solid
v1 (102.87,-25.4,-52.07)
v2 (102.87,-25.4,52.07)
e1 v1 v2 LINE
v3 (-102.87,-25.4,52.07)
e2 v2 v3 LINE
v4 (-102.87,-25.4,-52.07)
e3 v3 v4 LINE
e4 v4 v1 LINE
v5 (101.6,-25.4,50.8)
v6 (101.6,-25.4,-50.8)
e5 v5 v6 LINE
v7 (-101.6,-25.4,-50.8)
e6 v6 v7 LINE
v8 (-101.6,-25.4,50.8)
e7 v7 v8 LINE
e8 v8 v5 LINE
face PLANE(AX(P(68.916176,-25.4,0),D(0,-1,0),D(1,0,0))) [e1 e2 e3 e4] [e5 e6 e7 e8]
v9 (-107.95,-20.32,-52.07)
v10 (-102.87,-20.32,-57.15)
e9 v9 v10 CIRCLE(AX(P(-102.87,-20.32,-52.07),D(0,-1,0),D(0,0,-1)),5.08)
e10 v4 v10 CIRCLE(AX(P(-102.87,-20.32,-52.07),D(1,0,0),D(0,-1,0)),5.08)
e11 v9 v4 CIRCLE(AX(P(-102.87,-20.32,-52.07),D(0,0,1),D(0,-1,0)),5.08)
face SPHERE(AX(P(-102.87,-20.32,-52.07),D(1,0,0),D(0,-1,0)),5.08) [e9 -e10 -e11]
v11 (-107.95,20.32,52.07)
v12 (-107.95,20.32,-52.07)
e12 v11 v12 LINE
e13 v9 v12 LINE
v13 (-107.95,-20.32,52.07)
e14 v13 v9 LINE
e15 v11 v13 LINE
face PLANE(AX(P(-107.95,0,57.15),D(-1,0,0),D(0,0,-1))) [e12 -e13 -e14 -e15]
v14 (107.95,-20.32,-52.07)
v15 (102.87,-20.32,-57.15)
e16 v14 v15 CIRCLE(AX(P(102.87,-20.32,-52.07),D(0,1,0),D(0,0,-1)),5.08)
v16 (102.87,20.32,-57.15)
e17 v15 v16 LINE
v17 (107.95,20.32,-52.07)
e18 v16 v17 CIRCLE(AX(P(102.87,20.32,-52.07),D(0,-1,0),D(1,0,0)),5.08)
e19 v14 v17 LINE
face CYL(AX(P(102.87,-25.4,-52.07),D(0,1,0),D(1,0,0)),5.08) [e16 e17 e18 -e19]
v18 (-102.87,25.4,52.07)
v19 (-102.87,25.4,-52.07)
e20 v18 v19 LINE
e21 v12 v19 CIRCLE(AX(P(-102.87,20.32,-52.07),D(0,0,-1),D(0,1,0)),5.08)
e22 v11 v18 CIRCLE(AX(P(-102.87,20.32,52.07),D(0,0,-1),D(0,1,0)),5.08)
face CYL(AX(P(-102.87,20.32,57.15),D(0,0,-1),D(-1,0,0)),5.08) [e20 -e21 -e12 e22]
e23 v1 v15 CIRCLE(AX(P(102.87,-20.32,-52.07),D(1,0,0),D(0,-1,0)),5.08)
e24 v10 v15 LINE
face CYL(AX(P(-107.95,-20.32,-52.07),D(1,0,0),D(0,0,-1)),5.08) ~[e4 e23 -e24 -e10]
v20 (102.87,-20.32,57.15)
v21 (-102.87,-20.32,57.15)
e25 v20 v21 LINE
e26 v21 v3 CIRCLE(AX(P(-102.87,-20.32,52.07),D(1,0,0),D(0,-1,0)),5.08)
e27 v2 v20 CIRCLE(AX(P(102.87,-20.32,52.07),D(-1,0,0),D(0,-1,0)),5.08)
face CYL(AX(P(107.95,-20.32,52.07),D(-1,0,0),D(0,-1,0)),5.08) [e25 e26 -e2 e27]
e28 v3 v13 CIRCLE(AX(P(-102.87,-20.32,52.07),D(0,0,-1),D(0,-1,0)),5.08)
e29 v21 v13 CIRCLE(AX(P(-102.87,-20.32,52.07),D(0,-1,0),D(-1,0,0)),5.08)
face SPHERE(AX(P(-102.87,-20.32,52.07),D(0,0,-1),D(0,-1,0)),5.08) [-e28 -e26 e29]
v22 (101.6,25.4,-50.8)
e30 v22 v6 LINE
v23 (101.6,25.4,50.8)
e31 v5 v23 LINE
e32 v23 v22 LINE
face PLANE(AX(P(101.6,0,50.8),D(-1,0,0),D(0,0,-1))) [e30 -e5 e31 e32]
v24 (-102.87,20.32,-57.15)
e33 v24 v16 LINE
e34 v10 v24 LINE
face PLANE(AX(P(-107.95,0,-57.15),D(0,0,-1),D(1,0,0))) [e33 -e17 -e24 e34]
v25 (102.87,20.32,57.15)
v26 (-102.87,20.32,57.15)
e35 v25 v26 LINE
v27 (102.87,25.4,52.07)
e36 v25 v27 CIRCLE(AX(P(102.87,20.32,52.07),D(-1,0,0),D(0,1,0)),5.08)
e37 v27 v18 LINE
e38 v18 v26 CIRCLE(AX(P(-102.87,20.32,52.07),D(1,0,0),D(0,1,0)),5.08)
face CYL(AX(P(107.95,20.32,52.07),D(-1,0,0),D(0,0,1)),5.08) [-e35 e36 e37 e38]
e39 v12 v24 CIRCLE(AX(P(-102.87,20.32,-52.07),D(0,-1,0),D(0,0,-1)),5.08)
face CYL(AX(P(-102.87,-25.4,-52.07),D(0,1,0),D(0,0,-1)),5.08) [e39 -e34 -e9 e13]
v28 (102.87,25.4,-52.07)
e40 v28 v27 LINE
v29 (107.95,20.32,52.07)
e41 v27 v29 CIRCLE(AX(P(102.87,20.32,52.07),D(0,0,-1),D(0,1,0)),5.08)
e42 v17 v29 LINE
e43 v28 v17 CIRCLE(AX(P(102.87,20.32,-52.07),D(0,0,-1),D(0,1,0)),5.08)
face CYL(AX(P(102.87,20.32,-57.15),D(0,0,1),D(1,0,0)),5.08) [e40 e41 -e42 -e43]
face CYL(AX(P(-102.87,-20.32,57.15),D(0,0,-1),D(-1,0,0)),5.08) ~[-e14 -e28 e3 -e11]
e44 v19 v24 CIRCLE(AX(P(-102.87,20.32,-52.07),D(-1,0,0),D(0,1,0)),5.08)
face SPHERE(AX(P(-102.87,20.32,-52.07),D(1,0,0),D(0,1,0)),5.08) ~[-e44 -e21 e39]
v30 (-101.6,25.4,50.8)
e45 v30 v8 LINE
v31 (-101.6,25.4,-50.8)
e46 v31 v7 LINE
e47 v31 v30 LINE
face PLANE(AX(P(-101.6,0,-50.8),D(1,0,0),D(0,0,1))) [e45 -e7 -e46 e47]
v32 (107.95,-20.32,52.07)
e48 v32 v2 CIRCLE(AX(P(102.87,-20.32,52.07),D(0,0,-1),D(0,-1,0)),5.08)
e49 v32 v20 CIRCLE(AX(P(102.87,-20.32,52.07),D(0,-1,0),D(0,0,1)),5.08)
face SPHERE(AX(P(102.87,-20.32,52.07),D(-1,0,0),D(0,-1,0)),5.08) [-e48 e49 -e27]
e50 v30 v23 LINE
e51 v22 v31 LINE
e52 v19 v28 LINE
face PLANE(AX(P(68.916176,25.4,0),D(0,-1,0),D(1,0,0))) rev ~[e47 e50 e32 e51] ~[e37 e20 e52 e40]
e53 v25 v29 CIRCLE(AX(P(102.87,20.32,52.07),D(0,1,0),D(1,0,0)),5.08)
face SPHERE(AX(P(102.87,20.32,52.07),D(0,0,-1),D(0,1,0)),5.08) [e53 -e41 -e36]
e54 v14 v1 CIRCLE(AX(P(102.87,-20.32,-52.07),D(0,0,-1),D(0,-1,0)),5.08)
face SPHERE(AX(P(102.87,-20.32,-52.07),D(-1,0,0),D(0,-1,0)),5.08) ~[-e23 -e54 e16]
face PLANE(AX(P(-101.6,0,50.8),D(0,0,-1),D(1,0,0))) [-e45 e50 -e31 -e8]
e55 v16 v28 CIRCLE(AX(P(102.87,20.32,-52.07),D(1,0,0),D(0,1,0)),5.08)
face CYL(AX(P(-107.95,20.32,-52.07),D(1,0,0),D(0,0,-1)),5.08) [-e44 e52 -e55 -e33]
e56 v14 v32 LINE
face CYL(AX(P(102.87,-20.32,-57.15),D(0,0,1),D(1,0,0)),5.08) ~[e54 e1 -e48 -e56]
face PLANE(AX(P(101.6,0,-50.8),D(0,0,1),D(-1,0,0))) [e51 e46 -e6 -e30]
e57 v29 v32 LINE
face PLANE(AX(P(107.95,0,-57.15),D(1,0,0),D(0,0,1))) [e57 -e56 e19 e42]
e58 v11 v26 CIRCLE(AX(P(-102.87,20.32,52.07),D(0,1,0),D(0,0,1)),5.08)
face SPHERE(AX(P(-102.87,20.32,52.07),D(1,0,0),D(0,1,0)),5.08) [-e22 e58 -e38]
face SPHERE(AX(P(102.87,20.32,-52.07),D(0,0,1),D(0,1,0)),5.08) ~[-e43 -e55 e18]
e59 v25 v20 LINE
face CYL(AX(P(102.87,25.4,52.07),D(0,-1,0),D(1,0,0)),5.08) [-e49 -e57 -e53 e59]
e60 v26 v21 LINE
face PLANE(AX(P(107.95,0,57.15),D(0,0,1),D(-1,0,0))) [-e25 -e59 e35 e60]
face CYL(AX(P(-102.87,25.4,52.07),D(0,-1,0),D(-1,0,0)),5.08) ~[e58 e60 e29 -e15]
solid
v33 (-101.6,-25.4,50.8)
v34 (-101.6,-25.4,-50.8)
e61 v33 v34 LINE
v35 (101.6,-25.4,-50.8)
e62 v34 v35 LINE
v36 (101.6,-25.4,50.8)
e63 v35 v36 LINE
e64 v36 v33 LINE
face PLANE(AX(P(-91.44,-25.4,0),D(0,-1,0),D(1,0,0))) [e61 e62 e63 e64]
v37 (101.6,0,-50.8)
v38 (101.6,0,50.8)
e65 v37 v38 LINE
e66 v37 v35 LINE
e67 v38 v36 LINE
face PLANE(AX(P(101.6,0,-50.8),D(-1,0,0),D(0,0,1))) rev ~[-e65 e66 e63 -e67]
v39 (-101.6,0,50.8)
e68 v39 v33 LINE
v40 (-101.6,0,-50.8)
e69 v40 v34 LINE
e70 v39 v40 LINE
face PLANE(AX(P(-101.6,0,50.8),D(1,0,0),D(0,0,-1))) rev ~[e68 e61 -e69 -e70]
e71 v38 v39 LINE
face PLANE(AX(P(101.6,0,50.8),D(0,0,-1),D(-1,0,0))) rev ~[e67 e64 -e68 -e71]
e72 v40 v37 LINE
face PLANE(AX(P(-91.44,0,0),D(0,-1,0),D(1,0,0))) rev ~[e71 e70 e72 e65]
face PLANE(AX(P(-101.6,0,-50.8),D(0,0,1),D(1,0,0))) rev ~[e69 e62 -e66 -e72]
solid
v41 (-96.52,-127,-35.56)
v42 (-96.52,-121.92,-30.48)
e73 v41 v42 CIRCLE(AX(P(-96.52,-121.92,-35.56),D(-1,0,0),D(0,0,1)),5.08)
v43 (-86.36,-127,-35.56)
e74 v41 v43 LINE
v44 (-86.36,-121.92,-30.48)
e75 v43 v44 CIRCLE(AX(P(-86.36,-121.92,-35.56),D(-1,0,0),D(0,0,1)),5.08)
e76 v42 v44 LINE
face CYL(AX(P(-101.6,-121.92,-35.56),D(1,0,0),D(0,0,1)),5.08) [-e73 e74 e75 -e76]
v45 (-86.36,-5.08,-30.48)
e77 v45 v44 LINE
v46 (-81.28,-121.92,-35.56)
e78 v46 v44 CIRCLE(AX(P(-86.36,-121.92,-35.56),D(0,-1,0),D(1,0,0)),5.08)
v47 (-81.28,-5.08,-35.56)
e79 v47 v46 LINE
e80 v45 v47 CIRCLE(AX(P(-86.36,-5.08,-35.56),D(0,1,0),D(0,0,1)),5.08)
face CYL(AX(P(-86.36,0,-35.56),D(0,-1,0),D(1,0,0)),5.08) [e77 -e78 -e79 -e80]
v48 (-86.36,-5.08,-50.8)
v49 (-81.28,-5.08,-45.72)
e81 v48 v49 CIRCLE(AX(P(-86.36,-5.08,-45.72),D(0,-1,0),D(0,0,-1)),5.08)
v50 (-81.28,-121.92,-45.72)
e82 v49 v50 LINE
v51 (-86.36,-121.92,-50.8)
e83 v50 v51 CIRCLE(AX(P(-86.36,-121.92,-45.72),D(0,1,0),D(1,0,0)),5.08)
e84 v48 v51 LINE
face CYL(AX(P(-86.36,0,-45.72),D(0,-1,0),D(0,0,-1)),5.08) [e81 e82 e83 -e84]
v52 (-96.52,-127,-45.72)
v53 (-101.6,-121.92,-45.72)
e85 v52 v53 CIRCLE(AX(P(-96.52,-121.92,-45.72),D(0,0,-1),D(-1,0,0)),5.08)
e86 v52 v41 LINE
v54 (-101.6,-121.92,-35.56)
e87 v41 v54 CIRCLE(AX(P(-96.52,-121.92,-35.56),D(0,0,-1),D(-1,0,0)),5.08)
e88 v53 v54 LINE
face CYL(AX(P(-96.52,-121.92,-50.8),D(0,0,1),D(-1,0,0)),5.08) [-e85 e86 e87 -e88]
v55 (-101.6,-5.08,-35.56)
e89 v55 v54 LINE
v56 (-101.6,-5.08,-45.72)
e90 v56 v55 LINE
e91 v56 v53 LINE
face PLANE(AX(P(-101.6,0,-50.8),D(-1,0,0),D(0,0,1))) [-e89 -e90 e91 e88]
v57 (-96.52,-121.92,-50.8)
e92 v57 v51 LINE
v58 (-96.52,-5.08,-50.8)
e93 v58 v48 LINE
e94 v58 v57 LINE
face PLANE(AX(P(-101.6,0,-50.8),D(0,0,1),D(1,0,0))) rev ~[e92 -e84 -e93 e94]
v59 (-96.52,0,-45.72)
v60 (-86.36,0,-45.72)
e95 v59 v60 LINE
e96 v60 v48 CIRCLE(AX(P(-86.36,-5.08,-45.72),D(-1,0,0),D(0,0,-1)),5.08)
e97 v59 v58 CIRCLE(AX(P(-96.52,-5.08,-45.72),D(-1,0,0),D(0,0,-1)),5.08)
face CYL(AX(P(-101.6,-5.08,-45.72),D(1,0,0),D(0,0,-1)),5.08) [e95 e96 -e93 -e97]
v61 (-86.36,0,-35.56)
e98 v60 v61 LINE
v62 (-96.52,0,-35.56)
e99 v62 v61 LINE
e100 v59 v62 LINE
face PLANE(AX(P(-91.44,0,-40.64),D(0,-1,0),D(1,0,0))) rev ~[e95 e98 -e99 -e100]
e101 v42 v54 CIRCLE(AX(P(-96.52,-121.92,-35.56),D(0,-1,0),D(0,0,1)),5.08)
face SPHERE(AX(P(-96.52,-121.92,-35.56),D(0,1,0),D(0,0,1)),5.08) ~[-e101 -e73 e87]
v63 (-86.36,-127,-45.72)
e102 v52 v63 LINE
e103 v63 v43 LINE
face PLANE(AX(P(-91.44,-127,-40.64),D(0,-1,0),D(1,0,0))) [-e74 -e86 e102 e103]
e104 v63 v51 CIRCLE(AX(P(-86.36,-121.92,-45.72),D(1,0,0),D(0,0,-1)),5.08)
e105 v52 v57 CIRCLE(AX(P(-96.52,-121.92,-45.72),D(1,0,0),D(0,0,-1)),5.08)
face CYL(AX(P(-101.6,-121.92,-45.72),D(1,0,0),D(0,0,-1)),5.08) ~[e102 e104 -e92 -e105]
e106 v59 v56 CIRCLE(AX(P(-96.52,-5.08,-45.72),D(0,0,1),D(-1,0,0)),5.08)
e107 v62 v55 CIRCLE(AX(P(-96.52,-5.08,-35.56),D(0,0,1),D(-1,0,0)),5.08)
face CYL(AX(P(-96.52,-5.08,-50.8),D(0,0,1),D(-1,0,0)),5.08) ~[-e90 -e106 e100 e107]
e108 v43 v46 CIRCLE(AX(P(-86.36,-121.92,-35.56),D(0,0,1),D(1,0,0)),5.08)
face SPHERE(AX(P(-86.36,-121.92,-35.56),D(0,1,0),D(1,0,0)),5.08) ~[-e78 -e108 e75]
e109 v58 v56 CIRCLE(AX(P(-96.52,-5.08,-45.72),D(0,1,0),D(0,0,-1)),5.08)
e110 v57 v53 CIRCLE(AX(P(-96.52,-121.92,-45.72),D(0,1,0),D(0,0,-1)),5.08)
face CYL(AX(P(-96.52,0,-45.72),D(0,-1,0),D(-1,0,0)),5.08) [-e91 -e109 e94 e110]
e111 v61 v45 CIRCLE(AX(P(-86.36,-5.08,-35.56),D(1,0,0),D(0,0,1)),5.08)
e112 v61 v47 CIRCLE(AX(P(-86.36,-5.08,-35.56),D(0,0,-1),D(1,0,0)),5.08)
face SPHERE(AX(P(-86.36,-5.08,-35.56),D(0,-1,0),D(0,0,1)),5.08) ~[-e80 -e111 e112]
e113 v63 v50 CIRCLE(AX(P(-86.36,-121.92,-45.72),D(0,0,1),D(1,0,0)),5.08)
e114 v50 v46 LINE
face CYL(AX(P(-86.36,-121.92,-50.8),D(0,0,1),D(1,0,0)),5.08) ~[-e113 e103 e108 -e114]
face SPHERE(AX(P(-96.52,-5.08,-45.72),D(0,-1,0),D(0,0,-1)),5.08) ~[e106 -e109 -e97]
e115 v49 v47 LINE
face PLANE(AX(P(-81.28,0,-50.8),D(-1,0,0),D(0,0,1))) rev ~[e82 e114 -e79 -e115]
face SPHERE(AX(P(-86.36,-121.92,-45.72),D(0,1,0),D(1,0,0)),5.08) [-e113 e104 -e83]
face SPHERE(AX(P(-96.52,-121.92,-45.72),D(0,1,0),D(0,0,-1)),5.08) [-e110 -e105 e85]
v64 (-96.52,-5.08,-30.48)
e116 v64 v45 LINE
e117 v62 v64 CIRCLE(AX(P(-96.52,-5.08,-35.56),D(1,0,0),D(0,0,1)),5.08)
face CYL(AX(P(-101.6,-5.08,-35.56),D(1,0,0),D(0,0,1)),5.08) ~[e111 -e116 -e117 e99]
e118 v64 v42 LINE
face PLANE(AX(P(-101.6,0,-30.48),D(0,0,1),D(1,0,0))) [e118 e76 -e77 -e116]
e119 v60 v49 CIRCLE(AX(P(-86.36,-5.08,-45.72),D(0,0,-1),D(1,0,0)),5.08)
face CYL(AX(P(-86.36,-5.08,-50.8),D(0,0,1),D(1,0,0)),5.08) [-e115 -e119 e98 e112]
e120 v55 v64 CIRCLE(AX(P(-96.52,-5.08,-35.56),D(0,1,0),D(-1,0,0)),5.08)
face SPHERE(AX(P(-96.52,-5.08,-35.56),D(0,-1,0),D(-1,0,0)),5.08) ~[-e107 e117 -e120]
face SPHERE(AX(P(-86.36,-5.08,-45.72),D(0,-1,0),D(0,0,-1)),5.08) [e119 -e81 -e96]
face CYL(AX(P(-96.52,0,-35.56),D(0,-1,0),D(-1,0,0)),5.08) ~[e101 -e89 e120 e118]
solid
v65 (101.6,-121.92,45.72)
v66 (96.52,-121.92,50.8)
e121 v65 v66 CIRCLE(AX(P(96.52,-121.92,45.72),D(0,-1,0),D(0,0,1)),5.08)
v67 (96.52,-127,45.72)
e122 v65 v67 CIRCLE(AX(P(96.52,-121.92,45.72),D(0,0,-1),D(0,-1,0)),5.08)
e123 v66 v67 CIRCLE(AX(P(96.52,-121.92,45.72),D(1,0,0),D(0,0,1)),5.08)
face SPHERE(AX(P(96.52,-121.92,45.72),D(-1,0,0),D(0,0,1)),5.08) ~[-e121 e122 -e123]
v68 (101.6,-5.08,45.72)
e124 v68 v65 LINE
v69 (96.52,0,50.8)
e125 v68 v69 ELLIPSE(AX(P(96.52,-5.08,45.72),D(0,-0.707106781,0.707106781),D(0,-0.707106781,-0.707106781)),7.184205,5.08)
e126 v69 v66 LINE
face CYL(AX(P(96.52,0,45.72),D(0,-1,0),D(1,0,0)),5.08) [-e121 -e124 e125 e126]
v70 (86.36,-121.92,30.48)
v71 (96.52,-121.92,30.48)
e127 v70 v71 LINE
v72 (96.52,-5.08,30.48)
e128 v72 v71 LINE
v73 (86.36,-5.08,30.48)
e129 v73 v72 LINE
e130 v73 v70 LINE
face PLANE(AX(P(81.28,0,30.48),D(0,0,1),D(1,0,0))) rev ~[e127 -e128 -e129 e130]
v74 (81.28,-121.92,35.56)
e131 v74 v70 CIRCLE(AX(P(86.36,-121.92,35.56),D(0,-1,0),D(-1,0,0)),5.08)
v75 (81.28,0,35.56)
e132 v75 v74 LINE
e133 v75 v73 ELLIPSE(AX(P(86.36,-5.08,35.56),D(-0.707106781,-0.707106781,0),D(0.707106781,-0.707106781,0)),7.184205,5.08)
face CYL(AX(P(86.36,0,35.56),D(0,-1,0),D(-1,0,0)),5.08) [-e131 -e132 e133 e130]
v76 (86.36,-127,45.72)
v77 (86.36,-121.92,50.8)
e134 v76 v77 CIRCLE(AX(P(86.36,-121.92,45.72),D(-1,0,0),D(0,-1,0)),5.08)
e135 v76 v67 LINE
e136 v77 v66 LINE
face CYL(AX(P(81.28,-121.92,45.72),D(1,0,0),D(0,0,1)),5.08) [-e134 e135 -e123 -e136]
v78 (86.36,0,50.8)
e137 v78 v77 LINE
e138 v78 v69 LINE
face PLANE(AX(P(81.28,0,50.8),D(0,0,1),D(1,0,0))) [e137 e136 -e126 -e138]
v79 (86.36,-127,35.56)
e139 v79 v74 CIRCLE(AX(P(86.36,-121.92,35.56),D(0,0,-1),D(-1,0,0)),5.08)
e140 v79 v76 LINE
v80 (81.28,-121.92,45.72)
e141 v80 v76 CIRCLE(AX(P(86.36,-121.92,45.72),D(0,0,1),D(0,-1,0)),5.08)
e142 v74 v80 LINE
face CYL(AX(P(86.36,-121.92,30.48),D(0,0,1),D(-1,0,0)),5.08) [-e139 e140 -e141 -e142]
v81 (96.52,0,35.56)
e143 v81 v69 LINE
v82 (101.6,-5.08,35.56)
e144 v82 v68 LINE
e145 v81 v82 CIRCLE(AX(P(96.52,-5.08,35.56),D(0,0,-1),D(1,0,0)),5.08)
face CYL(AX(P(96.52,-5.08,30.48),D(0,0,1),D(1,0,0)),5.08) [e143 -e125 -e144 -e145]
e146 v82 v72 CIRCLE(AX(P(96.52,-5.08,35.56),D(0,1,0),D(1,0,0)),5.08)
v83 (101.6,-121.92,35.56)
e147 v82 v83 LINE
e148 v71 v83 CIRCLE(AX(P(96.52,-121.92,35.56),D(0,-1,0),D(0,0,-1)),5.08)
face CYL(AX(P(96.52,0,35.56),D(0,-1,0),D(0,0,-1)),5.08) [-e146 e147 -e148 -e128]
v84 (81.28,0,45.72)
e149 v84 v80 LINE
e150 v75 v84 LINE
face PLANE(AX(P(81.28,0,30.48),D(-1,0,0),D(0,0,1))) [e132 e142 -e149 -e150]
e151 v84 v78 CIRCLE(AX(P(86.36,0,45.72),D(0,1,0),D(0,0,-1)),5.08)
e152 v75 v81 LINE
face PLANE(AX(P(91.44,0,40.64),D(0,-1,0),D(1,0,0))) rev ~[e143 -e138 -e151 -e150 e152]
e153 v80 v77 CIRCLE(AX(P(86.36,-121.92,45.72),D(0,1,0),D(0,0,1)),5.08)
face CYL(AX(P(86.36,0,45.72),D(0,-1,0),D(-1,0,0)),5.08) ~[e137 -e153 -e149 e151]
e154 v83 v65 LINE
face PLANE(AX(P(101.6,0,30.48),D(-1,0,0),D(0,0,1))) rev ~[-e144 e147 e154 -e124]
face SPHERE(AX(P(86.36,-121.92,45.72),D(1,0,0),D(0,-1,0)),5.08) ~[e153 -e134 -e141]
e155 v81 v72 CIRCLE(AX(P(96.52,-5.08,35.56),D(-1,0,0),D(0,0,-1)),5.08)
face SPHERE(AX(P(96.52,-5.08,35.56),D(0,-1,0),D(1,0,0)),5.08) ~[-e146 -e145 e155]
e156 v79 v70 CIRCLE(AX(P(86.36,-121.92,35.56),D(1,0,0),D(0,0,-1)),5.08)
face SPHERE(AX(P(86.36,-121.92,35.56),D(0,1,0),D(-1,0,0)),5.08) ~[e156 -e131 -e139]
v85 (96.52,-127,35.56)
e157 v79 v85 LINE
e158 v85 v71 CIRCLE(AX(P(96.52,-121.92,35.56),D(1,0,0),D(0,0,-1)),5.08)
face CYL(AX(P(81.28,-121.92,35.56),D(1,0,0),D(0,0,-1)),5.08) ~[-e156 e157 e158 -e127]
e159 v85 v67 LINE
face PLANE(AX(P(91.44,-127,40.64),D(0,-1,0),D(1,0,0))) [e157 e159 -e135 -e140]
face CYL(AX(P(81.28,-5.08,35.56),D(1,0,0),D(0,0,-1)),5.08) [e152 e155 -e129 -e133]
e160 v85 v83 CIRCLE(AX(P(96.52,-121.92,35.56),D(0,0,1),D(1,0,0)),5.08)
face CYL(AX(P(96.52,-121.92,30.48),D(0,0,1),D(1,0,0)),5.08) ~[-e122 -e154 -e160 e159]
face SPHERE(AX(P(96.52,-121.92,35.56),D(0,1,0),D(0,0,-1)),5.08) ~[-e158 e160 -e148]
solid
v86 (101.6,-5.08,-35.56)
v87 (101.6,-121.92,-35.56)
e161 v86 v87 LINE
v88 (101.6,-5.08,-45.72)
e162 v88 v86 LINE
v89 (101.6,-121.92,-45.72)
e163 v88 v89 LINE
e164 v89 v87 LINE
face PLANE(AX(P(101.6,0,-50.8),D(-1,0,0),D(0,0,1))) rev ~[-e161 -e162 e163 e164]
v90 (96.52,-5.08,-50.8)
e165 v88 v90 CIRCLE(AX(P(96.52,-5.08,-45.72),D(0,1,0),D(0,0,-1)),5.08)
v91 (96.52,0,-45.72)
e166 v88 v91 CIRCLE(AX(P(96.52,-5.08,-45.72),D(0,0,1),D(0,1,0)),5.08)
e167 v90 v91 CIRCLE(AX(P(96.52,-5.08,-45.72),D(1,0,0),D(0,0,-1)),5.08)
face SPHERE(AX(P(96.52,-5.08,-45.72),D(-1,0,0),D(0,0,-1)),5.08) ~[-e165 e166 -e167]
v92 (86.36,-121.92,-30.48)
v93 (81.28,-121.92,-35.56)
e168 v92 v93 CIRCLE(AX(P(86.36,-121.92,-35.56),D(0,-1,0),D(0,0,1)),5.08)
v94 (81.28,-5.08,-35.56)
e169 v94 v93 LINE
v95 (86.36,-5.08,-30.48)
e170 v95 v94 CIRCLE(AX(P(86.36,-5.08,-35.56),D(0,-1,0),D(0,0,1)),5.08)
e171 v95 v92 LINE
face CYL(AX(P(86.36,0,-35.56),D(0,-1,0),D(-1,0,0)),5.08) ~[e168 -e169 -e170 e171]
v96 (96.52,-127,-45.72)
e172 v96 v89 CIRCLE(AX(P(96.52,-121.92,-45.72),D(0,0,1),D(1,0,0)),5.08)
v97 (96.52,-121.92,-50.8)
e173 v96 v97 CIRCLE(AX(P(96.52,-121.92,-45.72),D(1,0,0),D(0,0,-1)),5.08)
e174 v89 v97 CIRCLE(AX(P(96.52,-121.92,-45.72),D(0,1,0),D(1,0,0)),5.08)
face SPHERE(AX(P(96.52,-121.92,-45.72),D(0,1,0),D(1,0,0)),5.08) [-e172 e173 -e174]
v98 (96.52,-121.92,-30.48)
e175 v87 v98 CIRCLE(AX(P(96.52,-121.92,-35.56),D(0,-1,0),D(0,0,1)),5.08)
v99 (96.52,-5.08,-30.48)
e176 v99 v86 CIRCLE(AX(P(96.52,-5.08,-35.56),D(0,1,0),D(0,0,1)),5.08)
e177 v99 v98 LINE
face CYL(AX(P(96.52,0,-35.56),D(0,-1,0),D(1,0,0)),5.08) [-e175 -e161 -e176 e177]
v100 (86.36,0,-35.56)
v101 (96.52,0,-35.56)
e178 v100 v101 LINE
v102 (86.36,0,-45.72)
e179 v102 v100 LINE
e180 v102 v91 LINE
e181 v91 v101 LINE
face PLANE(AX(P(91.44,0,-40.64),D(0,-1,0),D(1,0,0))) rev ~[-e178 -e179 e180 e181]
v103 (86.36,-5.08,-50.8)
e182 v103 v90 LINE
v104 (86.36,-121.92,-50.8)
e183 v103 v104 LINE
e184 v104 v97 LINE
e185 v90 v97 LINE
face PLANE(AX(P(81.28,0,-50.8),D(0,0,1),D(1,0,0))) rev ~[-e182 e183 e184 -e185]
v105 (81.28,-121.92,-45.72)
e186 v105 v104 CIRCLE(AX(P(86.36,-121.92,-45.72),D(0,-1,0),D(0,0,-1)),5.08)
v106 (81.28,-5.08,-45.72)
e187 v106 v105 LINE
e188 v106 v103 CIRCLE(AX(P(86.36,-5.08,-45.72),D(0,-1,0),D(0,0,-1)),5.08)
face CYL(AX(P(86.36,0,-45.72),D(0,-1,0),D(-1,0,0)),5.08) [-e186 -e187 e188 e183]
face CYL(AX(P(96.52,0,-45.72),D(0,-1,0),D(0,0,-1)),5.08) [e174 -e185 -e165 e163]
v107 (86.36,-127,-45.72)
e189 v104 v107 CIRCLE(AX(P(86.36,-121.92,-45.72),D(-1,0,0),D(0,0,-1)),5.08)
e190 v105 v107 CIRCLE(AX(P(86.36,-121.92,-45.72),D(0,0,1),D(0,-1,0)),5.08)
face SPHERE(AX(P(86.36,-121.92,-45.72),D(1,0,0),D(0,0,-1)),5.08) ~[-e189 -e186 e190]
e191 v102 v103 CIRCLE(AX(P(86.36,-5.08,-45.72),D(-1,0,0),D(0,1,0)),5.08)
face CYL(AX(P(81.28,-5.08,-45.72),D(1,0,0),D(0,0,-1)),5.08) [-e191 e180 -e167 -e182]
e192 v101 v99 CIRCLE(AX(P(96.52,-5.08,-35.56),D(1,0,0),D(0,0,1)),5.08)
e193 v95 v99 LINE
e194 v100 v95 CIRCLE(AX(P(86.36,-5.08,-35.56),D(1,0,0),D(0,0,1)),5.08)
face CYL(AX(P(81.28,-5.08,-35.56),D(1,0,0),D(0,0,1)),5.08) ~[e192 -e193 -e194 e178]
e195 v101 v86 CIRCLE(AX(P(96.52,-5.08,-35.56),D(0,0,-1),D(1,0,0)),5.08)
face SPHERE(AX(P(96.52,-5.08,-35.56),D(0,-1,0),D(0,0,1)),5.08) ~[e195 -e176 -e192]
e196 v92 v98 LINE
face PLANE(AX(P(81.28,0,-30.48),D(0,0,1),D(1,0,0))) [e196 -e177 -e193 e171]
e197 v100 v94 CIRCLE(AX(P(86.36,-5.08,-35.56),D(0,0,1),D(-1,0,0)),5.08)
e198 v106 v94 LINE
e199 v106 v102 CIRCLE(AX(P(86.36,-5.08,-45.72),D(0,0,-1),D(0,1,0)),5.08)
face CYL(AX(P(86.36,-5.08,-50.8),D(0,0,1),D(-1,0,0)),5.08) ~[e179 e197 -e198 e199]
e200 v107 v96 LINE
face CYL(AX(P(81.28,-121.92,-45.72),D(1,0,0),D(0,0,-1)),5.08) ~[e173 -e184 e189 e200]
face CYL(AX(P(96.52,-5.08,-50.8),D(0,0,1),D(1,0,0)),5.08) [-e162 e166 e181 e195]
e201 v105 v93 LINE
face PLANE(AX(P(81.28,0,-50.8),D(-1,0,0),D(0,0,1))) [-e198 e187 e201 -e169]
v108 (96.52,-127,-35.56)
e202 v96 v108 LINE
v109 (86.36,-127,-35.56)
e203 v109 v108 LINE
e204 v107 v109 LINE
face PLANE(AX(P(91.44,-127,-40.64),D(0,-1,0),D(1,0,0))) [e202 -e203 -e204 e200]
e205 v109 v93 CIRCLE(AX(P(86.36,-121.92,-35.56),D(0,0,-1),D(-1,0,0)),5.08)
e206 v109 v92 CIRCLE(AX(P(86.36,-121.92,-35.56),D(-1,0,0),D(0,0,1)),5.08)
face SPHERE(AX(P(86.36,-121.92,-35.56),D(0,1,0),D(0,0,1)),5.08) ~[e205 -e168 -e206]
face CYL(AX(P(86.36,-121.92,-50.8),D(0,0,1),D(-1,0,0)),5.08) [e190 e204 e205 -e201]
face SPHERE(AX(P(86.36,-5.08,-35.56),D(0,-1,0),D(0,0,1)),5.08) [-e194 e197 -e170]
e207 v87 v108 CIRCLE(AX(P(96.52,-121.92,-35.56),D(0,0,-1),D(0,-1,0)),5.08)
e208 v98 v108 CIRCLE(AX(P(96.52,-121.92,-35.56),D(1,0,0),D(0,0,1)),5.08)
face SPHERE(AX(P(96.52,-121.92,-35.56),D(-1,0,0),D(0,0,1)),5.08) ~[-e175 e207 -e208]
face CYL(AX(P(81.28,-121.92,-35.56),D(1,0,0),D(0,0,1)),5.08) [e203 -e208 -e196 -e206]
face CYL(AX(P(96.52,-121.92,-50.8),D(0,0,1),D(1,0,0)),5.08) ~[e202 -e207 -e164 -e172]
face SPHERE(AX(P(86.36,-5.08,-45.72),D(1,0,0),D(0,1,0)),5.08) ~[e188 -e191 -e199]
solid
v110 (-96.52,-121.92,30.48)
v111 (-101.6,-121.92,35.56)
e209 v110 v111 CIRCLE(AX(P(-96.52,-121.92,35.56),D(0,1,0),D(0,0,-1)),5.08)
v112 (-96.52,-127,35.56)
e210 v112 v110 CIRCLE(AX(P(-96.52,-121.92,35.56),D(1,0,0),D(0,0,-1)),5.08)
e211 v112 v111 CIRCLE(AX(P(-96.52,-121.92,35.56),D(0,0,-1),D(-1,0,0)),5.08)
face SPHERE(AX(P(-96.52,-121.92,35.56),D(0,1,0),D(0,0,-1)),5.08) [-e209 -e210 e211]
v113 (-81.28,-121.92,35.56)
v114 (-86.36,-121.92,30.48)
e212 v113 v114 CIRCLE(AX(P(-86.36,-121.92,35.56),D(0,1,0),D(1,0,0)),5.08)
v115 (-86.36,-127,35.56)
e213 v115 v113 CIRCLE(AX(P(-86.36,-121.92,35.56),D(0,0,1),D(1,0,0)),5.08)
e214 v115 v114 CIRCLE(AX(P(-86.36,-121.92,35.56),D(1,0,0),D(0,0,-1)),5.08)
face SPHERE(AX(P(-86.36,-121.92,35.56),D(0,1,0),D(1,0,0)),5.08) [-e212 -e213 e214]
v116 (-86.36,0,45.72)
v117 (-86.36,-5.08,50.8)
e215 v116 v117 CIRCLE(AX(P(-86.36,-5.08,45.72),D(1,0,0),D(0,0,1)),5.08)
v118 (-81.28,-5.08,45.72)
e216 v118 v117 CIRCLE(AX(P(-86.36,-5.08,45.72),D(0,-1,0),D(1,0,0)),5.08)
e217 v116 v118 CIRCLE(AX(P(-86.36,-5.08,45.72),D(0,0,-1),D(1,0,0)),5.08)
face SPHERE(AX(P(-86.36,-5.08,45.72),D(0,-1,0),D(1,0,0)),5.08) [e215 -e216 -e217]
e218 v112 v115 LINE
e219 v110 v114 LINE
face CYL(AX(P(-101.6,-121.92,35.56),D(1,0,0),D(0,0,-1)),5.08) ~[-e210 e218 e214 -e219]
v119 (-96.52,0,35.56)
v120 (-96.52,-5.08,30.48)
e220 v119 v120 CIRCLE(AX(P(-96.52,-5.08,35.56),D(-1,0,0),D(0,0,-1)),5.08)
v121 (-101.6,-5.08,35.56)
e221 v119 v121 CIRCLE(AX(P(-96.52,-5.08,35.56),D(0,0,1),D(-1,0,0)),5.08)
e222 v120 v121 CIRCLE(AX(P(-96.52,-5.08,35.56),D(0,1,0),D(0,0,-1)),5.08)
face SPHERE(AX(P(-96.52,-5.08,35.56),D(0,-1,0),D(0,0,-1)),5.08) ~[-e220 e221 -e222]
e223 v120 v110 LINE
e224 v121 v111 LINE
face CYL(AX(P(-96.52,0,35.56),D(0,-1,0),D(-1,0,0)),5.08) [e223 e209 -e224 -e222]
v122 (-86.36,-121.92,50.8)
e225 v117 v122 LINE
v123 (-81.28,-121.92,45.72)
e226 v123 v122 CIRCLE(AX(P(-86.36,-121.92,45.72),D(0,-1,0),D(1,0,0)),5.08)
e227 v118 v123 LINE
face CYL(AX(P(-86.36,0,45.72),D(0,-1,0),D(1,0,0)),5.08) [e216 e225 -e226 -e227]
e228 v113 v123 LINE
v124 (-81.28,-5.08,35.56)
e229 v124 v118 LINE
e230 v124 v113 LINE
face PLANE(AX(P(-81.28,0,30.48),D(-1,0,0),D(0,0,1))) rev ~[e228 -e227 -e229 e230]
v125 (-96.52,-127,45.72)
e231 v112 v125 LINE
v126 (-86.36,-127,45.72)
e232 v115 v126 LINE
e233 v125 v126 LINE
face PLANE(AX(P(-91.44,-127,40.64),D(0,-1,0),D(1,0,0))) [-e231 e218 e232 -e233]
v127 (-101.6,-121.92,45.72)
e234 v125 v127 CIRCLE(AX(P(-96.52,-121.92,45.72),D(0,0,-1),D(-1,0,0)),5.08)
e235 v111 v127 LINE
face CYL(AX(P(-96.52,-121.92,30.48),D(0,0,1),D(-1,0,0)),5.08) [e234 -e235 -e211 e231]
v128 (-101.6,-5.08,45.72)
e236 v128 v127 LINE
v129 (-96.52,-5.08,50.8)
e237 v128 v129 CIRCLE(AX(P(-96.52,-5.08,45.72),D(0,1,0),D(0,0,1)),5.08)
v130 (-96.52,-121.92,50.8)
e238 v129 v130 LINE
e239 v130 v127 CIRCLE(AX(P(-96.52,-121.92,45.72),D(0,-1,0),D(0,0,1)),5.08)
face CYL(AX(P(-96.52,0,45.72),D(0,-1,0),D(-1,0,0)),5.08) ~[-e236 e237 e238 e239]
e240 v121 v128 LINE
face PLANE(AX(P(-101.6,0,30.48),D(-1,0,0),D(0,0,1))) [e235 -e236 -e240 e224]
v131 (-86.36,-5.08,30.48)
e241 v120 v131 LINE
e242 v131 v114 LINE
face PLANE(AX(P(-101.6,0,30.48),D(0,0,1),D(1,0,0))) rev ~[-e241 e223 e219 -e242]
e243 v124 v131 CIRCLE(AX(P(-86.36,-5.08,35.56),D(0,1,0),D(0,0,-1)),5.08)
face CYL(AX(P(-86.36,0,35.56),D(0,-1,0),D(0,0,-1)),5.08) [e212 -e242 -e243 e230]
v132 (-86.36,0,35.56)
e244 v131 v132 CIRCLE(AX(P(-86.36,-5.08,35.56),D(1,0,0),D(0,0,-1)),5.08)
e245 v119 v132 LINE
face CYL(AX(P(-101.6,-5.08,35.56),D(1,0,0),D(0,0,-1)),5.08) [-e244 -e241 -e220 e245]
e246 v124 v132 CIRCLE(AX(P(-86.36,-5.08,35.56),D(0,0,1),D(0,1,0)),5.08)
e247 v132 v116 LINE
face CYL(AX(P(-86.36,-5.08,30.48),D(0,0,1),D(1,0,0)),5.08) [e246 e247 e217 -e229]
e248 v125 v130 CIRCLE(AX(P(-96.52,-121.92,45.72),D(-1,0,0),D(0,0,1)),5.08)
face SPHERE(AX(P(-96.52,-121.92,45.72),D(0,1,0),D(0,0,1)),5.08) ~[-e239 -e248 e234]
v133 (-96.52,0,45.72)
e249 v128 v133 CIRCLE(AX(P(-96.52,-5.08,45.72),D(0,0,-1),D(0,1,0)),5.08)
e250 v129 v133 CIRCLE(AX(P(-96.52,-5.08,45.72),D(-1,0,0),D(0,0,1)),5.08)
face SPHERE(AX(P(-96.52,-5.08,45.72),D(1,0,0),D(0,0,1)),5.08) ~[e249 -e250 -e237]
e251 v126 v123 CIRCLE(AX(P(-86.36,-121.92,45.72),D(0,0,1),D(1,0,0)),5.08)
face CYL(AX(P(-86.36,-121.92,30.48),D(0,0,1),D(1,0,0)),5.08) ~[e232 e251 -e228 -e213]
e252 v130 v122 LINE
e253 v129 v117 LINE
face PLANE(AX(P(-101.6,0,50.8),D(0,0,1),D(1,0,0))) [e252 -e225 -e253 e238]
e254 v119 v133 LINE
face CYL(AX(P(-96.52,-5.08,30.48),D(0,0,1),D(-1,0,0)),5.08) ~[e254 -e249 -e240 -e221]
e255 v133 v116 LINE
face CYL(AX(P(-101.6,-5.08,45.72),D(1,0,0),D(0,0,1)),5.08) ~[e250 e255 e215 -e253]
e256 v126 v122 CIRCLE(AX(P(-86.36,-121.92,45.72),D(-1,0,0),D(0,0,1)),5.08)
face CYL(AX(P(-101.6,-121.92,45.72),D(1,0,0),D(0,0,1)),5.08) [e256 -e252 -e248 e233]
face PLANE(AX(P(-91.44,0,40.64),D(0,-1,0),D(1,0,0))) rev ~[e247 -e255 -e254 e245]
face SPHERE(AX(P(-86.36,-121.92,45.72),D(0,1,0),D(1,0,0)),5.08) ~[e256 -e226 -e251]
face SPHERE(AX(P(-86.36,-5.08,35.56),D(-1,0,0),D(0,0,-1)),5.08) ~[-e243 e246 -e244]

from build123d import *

# Parameters (mm, degrees)
F1_DEPTH = 25.4
F0_W     = 20.32
F0_H     = 20.32
F2_DEPTH = 127
F0_H_2   = 60.96
F0_W_2   = 81.28
F3_DEPTH = 25.4
F4_R     = 5.08
F5_R     = 5.08


with BuildPart() as f1:
    # F0 (on Front) → F1 (new body, symmetric)
    with BuildSketch(Plane.XZ):
        Polygon((81.28, -50.8), (0, -50.8), (0, -57.15), (107.95, -57.15), (107.95, 57.15), (0, 57.15), (0, 50.8), (81.28, 50.8), (101.6, 50.8), (101.6, 30.48), (101.6, -30.48), (101.6, -50.8), align=None)
        Polygon((-81.28, -50.8), (-101.6, -50.8), (-101.6, -30.48), (-101.6, 30.48), (-101.6, 50.8), (-81.28, 50.8), (0, 50.8), (0, 57.15), (-107.95, 57.15), (-107.95, -57.15), (0, -57.15), (0, -50.8), align=None)
    extrude(amount=F1_DEPTH, both=True)

    # F4
    f4_edges = [f1.edges().sort_by_distance(p)[0] for p in [
        (107.95, 25.4, 0),
        (0, 25.4, -57.15),
        (0, 25.4, 57.15),
        (-107.95, 25.4, 0),
        (0, -25.4, -57.15),
        (-107.95, -25.4, 0),
        (0, -25.4, 57.15),
        (107.95, -25.4, 0),
        (107.95, 0, 57.15),
        (107.95, 0, -57.15),
        (-107.95, 0, 57.15),
        (-107.95, 0, -57.15),
    ]]
    fillet(f4_edges, radius=F4_R)


with BuildPart() as f2:
    # F0 (on Front) → F2 (new body)
    with BuildSketch(Plane.XZ):
        with Locations((-91.44, 40.64)):
            Rectangle(F0_W, F0_H)
        with Locations((-91.44, -40.64)):
            Rectangle(F0_W, F0_H)
        with Locations((91.44, -40.64)):
            Rectangle(F0_W, F0_H)
        with Locations((91.44, 40.64)):
            Rectangle(F0_W, F0_H)
    extrude(amount=F2_DEPTH)

    # F5
    f5_edges = [f2.edges().sort_by_distance(p)[0] for p in [
        (-81.28, -63.5, -50.8),
        (-81.28, -63.5, -30.48),
        (-101.6, -63.5, -50.8),
        (-101.6, -63.5, -30.48),
        (-91.44, 0, -50.8),
        (-101.6, 0, -40.64),
        (-91.44, 0, -30.48),
        (-81.28, -127, -40.64),
        (-91.44, -127, -50.8),
        (-91.44, -127, -30.48),
        (-101.6, -127, -40.64),
        (-81.28, 0, -40.64),
        (-81.28, -63.5, 50.8),
        (-101.6, -63.5, 30.48),
        (-91.44, 0, 30.48),
        (-81.28, -63.5, 30.48),
        (-81.28, 0, 40.64),
        (-91.44, 0, 50.8),
        (-101.6, -63.5, 50.8),
        (-101.6, 0, 40.64),
        (-81.28, -127, 40.64),
        (-91.44, -127, 30.48),
        (-91.44, -127, 50.8),
        (-101.6, -127, 40.64),
        (81.28, -63.5, 30.48),
        (101.6, -63.5, 30.48),
        (91.44, -127, 50.8),
        (101.6, -63.5, 50.8),
        (81.28, -127, 40.64),
        (91.44, -127, 30.48),
        (81.28, -63.5, 50.8),
        (101.6, -127, 40.64),
        (101.6, 0, 40.64),
        (91.44, 0, 30.48),
        (91.44, 0, -50.8),
        (81.28, -63.5, -30.48),
        (91.44, -127, -30.48),
        (101.6, -63.5, -30.48),
        (101.6, -63.5, -50.8),
        (91.44, 0, -30.48),
        (101.6, 0, -40.64),
        (81.28, 0, -40.64),
        (101.6, -127, -40.64),
        (91.44, -127, -50.8),
        (81.28, -63.5, -50.8),
        (81.28, -127, -40.64),
    ]]
    fillet(f5_edges, radius=F5_R)


with BuildPart() as f3:
    # F0 (on Front) → F3 (new body)
    with BuildSketch(Plane.XZ):
        with Locations((-91.44, 0)):
            Rectangle(F0_W, F0_H_2)
        with Locations((-40.64, 40.64)):
            Rectangle(F0_W_2, F0_H)
        with Locations((40.64, 40.64)):
            Rectangle(F0_W_2, F0_H)
        with Locations((91.44, 0)):
            Rectangle(F0_W, F0_H_2)
        with Locations((40.64, -40.64)):
            Rectangle(F0_W_2, F0_H)
        with Locations((-40.64, -40.64)):
            Rectangle(F0_W_2, F0_H)
        with Locations((40.64, 0)):
            Rectangle(F0_W_2, F0_H_2)
        with Locations((-40.64, 0)):
            Rectangle(F0_W_2, F0_H_2)
        with Locations((-91.44, 40.64)):
            Rectangle(F0_W, F0_H)
        with Locations((-91.44, -40.64)):
            Rectangle(F0_W, F0_H)
        with Locations((91.44, 40.64)):
            Rectangle(F0_W, F0_H)
        with Locations((91.44, -40.64)):
            Rectangle(F0_W, F0_H)
    extrude(amount=F3_DEPTH)


solid = Compound([f1.part, f2.part, f3.part])
